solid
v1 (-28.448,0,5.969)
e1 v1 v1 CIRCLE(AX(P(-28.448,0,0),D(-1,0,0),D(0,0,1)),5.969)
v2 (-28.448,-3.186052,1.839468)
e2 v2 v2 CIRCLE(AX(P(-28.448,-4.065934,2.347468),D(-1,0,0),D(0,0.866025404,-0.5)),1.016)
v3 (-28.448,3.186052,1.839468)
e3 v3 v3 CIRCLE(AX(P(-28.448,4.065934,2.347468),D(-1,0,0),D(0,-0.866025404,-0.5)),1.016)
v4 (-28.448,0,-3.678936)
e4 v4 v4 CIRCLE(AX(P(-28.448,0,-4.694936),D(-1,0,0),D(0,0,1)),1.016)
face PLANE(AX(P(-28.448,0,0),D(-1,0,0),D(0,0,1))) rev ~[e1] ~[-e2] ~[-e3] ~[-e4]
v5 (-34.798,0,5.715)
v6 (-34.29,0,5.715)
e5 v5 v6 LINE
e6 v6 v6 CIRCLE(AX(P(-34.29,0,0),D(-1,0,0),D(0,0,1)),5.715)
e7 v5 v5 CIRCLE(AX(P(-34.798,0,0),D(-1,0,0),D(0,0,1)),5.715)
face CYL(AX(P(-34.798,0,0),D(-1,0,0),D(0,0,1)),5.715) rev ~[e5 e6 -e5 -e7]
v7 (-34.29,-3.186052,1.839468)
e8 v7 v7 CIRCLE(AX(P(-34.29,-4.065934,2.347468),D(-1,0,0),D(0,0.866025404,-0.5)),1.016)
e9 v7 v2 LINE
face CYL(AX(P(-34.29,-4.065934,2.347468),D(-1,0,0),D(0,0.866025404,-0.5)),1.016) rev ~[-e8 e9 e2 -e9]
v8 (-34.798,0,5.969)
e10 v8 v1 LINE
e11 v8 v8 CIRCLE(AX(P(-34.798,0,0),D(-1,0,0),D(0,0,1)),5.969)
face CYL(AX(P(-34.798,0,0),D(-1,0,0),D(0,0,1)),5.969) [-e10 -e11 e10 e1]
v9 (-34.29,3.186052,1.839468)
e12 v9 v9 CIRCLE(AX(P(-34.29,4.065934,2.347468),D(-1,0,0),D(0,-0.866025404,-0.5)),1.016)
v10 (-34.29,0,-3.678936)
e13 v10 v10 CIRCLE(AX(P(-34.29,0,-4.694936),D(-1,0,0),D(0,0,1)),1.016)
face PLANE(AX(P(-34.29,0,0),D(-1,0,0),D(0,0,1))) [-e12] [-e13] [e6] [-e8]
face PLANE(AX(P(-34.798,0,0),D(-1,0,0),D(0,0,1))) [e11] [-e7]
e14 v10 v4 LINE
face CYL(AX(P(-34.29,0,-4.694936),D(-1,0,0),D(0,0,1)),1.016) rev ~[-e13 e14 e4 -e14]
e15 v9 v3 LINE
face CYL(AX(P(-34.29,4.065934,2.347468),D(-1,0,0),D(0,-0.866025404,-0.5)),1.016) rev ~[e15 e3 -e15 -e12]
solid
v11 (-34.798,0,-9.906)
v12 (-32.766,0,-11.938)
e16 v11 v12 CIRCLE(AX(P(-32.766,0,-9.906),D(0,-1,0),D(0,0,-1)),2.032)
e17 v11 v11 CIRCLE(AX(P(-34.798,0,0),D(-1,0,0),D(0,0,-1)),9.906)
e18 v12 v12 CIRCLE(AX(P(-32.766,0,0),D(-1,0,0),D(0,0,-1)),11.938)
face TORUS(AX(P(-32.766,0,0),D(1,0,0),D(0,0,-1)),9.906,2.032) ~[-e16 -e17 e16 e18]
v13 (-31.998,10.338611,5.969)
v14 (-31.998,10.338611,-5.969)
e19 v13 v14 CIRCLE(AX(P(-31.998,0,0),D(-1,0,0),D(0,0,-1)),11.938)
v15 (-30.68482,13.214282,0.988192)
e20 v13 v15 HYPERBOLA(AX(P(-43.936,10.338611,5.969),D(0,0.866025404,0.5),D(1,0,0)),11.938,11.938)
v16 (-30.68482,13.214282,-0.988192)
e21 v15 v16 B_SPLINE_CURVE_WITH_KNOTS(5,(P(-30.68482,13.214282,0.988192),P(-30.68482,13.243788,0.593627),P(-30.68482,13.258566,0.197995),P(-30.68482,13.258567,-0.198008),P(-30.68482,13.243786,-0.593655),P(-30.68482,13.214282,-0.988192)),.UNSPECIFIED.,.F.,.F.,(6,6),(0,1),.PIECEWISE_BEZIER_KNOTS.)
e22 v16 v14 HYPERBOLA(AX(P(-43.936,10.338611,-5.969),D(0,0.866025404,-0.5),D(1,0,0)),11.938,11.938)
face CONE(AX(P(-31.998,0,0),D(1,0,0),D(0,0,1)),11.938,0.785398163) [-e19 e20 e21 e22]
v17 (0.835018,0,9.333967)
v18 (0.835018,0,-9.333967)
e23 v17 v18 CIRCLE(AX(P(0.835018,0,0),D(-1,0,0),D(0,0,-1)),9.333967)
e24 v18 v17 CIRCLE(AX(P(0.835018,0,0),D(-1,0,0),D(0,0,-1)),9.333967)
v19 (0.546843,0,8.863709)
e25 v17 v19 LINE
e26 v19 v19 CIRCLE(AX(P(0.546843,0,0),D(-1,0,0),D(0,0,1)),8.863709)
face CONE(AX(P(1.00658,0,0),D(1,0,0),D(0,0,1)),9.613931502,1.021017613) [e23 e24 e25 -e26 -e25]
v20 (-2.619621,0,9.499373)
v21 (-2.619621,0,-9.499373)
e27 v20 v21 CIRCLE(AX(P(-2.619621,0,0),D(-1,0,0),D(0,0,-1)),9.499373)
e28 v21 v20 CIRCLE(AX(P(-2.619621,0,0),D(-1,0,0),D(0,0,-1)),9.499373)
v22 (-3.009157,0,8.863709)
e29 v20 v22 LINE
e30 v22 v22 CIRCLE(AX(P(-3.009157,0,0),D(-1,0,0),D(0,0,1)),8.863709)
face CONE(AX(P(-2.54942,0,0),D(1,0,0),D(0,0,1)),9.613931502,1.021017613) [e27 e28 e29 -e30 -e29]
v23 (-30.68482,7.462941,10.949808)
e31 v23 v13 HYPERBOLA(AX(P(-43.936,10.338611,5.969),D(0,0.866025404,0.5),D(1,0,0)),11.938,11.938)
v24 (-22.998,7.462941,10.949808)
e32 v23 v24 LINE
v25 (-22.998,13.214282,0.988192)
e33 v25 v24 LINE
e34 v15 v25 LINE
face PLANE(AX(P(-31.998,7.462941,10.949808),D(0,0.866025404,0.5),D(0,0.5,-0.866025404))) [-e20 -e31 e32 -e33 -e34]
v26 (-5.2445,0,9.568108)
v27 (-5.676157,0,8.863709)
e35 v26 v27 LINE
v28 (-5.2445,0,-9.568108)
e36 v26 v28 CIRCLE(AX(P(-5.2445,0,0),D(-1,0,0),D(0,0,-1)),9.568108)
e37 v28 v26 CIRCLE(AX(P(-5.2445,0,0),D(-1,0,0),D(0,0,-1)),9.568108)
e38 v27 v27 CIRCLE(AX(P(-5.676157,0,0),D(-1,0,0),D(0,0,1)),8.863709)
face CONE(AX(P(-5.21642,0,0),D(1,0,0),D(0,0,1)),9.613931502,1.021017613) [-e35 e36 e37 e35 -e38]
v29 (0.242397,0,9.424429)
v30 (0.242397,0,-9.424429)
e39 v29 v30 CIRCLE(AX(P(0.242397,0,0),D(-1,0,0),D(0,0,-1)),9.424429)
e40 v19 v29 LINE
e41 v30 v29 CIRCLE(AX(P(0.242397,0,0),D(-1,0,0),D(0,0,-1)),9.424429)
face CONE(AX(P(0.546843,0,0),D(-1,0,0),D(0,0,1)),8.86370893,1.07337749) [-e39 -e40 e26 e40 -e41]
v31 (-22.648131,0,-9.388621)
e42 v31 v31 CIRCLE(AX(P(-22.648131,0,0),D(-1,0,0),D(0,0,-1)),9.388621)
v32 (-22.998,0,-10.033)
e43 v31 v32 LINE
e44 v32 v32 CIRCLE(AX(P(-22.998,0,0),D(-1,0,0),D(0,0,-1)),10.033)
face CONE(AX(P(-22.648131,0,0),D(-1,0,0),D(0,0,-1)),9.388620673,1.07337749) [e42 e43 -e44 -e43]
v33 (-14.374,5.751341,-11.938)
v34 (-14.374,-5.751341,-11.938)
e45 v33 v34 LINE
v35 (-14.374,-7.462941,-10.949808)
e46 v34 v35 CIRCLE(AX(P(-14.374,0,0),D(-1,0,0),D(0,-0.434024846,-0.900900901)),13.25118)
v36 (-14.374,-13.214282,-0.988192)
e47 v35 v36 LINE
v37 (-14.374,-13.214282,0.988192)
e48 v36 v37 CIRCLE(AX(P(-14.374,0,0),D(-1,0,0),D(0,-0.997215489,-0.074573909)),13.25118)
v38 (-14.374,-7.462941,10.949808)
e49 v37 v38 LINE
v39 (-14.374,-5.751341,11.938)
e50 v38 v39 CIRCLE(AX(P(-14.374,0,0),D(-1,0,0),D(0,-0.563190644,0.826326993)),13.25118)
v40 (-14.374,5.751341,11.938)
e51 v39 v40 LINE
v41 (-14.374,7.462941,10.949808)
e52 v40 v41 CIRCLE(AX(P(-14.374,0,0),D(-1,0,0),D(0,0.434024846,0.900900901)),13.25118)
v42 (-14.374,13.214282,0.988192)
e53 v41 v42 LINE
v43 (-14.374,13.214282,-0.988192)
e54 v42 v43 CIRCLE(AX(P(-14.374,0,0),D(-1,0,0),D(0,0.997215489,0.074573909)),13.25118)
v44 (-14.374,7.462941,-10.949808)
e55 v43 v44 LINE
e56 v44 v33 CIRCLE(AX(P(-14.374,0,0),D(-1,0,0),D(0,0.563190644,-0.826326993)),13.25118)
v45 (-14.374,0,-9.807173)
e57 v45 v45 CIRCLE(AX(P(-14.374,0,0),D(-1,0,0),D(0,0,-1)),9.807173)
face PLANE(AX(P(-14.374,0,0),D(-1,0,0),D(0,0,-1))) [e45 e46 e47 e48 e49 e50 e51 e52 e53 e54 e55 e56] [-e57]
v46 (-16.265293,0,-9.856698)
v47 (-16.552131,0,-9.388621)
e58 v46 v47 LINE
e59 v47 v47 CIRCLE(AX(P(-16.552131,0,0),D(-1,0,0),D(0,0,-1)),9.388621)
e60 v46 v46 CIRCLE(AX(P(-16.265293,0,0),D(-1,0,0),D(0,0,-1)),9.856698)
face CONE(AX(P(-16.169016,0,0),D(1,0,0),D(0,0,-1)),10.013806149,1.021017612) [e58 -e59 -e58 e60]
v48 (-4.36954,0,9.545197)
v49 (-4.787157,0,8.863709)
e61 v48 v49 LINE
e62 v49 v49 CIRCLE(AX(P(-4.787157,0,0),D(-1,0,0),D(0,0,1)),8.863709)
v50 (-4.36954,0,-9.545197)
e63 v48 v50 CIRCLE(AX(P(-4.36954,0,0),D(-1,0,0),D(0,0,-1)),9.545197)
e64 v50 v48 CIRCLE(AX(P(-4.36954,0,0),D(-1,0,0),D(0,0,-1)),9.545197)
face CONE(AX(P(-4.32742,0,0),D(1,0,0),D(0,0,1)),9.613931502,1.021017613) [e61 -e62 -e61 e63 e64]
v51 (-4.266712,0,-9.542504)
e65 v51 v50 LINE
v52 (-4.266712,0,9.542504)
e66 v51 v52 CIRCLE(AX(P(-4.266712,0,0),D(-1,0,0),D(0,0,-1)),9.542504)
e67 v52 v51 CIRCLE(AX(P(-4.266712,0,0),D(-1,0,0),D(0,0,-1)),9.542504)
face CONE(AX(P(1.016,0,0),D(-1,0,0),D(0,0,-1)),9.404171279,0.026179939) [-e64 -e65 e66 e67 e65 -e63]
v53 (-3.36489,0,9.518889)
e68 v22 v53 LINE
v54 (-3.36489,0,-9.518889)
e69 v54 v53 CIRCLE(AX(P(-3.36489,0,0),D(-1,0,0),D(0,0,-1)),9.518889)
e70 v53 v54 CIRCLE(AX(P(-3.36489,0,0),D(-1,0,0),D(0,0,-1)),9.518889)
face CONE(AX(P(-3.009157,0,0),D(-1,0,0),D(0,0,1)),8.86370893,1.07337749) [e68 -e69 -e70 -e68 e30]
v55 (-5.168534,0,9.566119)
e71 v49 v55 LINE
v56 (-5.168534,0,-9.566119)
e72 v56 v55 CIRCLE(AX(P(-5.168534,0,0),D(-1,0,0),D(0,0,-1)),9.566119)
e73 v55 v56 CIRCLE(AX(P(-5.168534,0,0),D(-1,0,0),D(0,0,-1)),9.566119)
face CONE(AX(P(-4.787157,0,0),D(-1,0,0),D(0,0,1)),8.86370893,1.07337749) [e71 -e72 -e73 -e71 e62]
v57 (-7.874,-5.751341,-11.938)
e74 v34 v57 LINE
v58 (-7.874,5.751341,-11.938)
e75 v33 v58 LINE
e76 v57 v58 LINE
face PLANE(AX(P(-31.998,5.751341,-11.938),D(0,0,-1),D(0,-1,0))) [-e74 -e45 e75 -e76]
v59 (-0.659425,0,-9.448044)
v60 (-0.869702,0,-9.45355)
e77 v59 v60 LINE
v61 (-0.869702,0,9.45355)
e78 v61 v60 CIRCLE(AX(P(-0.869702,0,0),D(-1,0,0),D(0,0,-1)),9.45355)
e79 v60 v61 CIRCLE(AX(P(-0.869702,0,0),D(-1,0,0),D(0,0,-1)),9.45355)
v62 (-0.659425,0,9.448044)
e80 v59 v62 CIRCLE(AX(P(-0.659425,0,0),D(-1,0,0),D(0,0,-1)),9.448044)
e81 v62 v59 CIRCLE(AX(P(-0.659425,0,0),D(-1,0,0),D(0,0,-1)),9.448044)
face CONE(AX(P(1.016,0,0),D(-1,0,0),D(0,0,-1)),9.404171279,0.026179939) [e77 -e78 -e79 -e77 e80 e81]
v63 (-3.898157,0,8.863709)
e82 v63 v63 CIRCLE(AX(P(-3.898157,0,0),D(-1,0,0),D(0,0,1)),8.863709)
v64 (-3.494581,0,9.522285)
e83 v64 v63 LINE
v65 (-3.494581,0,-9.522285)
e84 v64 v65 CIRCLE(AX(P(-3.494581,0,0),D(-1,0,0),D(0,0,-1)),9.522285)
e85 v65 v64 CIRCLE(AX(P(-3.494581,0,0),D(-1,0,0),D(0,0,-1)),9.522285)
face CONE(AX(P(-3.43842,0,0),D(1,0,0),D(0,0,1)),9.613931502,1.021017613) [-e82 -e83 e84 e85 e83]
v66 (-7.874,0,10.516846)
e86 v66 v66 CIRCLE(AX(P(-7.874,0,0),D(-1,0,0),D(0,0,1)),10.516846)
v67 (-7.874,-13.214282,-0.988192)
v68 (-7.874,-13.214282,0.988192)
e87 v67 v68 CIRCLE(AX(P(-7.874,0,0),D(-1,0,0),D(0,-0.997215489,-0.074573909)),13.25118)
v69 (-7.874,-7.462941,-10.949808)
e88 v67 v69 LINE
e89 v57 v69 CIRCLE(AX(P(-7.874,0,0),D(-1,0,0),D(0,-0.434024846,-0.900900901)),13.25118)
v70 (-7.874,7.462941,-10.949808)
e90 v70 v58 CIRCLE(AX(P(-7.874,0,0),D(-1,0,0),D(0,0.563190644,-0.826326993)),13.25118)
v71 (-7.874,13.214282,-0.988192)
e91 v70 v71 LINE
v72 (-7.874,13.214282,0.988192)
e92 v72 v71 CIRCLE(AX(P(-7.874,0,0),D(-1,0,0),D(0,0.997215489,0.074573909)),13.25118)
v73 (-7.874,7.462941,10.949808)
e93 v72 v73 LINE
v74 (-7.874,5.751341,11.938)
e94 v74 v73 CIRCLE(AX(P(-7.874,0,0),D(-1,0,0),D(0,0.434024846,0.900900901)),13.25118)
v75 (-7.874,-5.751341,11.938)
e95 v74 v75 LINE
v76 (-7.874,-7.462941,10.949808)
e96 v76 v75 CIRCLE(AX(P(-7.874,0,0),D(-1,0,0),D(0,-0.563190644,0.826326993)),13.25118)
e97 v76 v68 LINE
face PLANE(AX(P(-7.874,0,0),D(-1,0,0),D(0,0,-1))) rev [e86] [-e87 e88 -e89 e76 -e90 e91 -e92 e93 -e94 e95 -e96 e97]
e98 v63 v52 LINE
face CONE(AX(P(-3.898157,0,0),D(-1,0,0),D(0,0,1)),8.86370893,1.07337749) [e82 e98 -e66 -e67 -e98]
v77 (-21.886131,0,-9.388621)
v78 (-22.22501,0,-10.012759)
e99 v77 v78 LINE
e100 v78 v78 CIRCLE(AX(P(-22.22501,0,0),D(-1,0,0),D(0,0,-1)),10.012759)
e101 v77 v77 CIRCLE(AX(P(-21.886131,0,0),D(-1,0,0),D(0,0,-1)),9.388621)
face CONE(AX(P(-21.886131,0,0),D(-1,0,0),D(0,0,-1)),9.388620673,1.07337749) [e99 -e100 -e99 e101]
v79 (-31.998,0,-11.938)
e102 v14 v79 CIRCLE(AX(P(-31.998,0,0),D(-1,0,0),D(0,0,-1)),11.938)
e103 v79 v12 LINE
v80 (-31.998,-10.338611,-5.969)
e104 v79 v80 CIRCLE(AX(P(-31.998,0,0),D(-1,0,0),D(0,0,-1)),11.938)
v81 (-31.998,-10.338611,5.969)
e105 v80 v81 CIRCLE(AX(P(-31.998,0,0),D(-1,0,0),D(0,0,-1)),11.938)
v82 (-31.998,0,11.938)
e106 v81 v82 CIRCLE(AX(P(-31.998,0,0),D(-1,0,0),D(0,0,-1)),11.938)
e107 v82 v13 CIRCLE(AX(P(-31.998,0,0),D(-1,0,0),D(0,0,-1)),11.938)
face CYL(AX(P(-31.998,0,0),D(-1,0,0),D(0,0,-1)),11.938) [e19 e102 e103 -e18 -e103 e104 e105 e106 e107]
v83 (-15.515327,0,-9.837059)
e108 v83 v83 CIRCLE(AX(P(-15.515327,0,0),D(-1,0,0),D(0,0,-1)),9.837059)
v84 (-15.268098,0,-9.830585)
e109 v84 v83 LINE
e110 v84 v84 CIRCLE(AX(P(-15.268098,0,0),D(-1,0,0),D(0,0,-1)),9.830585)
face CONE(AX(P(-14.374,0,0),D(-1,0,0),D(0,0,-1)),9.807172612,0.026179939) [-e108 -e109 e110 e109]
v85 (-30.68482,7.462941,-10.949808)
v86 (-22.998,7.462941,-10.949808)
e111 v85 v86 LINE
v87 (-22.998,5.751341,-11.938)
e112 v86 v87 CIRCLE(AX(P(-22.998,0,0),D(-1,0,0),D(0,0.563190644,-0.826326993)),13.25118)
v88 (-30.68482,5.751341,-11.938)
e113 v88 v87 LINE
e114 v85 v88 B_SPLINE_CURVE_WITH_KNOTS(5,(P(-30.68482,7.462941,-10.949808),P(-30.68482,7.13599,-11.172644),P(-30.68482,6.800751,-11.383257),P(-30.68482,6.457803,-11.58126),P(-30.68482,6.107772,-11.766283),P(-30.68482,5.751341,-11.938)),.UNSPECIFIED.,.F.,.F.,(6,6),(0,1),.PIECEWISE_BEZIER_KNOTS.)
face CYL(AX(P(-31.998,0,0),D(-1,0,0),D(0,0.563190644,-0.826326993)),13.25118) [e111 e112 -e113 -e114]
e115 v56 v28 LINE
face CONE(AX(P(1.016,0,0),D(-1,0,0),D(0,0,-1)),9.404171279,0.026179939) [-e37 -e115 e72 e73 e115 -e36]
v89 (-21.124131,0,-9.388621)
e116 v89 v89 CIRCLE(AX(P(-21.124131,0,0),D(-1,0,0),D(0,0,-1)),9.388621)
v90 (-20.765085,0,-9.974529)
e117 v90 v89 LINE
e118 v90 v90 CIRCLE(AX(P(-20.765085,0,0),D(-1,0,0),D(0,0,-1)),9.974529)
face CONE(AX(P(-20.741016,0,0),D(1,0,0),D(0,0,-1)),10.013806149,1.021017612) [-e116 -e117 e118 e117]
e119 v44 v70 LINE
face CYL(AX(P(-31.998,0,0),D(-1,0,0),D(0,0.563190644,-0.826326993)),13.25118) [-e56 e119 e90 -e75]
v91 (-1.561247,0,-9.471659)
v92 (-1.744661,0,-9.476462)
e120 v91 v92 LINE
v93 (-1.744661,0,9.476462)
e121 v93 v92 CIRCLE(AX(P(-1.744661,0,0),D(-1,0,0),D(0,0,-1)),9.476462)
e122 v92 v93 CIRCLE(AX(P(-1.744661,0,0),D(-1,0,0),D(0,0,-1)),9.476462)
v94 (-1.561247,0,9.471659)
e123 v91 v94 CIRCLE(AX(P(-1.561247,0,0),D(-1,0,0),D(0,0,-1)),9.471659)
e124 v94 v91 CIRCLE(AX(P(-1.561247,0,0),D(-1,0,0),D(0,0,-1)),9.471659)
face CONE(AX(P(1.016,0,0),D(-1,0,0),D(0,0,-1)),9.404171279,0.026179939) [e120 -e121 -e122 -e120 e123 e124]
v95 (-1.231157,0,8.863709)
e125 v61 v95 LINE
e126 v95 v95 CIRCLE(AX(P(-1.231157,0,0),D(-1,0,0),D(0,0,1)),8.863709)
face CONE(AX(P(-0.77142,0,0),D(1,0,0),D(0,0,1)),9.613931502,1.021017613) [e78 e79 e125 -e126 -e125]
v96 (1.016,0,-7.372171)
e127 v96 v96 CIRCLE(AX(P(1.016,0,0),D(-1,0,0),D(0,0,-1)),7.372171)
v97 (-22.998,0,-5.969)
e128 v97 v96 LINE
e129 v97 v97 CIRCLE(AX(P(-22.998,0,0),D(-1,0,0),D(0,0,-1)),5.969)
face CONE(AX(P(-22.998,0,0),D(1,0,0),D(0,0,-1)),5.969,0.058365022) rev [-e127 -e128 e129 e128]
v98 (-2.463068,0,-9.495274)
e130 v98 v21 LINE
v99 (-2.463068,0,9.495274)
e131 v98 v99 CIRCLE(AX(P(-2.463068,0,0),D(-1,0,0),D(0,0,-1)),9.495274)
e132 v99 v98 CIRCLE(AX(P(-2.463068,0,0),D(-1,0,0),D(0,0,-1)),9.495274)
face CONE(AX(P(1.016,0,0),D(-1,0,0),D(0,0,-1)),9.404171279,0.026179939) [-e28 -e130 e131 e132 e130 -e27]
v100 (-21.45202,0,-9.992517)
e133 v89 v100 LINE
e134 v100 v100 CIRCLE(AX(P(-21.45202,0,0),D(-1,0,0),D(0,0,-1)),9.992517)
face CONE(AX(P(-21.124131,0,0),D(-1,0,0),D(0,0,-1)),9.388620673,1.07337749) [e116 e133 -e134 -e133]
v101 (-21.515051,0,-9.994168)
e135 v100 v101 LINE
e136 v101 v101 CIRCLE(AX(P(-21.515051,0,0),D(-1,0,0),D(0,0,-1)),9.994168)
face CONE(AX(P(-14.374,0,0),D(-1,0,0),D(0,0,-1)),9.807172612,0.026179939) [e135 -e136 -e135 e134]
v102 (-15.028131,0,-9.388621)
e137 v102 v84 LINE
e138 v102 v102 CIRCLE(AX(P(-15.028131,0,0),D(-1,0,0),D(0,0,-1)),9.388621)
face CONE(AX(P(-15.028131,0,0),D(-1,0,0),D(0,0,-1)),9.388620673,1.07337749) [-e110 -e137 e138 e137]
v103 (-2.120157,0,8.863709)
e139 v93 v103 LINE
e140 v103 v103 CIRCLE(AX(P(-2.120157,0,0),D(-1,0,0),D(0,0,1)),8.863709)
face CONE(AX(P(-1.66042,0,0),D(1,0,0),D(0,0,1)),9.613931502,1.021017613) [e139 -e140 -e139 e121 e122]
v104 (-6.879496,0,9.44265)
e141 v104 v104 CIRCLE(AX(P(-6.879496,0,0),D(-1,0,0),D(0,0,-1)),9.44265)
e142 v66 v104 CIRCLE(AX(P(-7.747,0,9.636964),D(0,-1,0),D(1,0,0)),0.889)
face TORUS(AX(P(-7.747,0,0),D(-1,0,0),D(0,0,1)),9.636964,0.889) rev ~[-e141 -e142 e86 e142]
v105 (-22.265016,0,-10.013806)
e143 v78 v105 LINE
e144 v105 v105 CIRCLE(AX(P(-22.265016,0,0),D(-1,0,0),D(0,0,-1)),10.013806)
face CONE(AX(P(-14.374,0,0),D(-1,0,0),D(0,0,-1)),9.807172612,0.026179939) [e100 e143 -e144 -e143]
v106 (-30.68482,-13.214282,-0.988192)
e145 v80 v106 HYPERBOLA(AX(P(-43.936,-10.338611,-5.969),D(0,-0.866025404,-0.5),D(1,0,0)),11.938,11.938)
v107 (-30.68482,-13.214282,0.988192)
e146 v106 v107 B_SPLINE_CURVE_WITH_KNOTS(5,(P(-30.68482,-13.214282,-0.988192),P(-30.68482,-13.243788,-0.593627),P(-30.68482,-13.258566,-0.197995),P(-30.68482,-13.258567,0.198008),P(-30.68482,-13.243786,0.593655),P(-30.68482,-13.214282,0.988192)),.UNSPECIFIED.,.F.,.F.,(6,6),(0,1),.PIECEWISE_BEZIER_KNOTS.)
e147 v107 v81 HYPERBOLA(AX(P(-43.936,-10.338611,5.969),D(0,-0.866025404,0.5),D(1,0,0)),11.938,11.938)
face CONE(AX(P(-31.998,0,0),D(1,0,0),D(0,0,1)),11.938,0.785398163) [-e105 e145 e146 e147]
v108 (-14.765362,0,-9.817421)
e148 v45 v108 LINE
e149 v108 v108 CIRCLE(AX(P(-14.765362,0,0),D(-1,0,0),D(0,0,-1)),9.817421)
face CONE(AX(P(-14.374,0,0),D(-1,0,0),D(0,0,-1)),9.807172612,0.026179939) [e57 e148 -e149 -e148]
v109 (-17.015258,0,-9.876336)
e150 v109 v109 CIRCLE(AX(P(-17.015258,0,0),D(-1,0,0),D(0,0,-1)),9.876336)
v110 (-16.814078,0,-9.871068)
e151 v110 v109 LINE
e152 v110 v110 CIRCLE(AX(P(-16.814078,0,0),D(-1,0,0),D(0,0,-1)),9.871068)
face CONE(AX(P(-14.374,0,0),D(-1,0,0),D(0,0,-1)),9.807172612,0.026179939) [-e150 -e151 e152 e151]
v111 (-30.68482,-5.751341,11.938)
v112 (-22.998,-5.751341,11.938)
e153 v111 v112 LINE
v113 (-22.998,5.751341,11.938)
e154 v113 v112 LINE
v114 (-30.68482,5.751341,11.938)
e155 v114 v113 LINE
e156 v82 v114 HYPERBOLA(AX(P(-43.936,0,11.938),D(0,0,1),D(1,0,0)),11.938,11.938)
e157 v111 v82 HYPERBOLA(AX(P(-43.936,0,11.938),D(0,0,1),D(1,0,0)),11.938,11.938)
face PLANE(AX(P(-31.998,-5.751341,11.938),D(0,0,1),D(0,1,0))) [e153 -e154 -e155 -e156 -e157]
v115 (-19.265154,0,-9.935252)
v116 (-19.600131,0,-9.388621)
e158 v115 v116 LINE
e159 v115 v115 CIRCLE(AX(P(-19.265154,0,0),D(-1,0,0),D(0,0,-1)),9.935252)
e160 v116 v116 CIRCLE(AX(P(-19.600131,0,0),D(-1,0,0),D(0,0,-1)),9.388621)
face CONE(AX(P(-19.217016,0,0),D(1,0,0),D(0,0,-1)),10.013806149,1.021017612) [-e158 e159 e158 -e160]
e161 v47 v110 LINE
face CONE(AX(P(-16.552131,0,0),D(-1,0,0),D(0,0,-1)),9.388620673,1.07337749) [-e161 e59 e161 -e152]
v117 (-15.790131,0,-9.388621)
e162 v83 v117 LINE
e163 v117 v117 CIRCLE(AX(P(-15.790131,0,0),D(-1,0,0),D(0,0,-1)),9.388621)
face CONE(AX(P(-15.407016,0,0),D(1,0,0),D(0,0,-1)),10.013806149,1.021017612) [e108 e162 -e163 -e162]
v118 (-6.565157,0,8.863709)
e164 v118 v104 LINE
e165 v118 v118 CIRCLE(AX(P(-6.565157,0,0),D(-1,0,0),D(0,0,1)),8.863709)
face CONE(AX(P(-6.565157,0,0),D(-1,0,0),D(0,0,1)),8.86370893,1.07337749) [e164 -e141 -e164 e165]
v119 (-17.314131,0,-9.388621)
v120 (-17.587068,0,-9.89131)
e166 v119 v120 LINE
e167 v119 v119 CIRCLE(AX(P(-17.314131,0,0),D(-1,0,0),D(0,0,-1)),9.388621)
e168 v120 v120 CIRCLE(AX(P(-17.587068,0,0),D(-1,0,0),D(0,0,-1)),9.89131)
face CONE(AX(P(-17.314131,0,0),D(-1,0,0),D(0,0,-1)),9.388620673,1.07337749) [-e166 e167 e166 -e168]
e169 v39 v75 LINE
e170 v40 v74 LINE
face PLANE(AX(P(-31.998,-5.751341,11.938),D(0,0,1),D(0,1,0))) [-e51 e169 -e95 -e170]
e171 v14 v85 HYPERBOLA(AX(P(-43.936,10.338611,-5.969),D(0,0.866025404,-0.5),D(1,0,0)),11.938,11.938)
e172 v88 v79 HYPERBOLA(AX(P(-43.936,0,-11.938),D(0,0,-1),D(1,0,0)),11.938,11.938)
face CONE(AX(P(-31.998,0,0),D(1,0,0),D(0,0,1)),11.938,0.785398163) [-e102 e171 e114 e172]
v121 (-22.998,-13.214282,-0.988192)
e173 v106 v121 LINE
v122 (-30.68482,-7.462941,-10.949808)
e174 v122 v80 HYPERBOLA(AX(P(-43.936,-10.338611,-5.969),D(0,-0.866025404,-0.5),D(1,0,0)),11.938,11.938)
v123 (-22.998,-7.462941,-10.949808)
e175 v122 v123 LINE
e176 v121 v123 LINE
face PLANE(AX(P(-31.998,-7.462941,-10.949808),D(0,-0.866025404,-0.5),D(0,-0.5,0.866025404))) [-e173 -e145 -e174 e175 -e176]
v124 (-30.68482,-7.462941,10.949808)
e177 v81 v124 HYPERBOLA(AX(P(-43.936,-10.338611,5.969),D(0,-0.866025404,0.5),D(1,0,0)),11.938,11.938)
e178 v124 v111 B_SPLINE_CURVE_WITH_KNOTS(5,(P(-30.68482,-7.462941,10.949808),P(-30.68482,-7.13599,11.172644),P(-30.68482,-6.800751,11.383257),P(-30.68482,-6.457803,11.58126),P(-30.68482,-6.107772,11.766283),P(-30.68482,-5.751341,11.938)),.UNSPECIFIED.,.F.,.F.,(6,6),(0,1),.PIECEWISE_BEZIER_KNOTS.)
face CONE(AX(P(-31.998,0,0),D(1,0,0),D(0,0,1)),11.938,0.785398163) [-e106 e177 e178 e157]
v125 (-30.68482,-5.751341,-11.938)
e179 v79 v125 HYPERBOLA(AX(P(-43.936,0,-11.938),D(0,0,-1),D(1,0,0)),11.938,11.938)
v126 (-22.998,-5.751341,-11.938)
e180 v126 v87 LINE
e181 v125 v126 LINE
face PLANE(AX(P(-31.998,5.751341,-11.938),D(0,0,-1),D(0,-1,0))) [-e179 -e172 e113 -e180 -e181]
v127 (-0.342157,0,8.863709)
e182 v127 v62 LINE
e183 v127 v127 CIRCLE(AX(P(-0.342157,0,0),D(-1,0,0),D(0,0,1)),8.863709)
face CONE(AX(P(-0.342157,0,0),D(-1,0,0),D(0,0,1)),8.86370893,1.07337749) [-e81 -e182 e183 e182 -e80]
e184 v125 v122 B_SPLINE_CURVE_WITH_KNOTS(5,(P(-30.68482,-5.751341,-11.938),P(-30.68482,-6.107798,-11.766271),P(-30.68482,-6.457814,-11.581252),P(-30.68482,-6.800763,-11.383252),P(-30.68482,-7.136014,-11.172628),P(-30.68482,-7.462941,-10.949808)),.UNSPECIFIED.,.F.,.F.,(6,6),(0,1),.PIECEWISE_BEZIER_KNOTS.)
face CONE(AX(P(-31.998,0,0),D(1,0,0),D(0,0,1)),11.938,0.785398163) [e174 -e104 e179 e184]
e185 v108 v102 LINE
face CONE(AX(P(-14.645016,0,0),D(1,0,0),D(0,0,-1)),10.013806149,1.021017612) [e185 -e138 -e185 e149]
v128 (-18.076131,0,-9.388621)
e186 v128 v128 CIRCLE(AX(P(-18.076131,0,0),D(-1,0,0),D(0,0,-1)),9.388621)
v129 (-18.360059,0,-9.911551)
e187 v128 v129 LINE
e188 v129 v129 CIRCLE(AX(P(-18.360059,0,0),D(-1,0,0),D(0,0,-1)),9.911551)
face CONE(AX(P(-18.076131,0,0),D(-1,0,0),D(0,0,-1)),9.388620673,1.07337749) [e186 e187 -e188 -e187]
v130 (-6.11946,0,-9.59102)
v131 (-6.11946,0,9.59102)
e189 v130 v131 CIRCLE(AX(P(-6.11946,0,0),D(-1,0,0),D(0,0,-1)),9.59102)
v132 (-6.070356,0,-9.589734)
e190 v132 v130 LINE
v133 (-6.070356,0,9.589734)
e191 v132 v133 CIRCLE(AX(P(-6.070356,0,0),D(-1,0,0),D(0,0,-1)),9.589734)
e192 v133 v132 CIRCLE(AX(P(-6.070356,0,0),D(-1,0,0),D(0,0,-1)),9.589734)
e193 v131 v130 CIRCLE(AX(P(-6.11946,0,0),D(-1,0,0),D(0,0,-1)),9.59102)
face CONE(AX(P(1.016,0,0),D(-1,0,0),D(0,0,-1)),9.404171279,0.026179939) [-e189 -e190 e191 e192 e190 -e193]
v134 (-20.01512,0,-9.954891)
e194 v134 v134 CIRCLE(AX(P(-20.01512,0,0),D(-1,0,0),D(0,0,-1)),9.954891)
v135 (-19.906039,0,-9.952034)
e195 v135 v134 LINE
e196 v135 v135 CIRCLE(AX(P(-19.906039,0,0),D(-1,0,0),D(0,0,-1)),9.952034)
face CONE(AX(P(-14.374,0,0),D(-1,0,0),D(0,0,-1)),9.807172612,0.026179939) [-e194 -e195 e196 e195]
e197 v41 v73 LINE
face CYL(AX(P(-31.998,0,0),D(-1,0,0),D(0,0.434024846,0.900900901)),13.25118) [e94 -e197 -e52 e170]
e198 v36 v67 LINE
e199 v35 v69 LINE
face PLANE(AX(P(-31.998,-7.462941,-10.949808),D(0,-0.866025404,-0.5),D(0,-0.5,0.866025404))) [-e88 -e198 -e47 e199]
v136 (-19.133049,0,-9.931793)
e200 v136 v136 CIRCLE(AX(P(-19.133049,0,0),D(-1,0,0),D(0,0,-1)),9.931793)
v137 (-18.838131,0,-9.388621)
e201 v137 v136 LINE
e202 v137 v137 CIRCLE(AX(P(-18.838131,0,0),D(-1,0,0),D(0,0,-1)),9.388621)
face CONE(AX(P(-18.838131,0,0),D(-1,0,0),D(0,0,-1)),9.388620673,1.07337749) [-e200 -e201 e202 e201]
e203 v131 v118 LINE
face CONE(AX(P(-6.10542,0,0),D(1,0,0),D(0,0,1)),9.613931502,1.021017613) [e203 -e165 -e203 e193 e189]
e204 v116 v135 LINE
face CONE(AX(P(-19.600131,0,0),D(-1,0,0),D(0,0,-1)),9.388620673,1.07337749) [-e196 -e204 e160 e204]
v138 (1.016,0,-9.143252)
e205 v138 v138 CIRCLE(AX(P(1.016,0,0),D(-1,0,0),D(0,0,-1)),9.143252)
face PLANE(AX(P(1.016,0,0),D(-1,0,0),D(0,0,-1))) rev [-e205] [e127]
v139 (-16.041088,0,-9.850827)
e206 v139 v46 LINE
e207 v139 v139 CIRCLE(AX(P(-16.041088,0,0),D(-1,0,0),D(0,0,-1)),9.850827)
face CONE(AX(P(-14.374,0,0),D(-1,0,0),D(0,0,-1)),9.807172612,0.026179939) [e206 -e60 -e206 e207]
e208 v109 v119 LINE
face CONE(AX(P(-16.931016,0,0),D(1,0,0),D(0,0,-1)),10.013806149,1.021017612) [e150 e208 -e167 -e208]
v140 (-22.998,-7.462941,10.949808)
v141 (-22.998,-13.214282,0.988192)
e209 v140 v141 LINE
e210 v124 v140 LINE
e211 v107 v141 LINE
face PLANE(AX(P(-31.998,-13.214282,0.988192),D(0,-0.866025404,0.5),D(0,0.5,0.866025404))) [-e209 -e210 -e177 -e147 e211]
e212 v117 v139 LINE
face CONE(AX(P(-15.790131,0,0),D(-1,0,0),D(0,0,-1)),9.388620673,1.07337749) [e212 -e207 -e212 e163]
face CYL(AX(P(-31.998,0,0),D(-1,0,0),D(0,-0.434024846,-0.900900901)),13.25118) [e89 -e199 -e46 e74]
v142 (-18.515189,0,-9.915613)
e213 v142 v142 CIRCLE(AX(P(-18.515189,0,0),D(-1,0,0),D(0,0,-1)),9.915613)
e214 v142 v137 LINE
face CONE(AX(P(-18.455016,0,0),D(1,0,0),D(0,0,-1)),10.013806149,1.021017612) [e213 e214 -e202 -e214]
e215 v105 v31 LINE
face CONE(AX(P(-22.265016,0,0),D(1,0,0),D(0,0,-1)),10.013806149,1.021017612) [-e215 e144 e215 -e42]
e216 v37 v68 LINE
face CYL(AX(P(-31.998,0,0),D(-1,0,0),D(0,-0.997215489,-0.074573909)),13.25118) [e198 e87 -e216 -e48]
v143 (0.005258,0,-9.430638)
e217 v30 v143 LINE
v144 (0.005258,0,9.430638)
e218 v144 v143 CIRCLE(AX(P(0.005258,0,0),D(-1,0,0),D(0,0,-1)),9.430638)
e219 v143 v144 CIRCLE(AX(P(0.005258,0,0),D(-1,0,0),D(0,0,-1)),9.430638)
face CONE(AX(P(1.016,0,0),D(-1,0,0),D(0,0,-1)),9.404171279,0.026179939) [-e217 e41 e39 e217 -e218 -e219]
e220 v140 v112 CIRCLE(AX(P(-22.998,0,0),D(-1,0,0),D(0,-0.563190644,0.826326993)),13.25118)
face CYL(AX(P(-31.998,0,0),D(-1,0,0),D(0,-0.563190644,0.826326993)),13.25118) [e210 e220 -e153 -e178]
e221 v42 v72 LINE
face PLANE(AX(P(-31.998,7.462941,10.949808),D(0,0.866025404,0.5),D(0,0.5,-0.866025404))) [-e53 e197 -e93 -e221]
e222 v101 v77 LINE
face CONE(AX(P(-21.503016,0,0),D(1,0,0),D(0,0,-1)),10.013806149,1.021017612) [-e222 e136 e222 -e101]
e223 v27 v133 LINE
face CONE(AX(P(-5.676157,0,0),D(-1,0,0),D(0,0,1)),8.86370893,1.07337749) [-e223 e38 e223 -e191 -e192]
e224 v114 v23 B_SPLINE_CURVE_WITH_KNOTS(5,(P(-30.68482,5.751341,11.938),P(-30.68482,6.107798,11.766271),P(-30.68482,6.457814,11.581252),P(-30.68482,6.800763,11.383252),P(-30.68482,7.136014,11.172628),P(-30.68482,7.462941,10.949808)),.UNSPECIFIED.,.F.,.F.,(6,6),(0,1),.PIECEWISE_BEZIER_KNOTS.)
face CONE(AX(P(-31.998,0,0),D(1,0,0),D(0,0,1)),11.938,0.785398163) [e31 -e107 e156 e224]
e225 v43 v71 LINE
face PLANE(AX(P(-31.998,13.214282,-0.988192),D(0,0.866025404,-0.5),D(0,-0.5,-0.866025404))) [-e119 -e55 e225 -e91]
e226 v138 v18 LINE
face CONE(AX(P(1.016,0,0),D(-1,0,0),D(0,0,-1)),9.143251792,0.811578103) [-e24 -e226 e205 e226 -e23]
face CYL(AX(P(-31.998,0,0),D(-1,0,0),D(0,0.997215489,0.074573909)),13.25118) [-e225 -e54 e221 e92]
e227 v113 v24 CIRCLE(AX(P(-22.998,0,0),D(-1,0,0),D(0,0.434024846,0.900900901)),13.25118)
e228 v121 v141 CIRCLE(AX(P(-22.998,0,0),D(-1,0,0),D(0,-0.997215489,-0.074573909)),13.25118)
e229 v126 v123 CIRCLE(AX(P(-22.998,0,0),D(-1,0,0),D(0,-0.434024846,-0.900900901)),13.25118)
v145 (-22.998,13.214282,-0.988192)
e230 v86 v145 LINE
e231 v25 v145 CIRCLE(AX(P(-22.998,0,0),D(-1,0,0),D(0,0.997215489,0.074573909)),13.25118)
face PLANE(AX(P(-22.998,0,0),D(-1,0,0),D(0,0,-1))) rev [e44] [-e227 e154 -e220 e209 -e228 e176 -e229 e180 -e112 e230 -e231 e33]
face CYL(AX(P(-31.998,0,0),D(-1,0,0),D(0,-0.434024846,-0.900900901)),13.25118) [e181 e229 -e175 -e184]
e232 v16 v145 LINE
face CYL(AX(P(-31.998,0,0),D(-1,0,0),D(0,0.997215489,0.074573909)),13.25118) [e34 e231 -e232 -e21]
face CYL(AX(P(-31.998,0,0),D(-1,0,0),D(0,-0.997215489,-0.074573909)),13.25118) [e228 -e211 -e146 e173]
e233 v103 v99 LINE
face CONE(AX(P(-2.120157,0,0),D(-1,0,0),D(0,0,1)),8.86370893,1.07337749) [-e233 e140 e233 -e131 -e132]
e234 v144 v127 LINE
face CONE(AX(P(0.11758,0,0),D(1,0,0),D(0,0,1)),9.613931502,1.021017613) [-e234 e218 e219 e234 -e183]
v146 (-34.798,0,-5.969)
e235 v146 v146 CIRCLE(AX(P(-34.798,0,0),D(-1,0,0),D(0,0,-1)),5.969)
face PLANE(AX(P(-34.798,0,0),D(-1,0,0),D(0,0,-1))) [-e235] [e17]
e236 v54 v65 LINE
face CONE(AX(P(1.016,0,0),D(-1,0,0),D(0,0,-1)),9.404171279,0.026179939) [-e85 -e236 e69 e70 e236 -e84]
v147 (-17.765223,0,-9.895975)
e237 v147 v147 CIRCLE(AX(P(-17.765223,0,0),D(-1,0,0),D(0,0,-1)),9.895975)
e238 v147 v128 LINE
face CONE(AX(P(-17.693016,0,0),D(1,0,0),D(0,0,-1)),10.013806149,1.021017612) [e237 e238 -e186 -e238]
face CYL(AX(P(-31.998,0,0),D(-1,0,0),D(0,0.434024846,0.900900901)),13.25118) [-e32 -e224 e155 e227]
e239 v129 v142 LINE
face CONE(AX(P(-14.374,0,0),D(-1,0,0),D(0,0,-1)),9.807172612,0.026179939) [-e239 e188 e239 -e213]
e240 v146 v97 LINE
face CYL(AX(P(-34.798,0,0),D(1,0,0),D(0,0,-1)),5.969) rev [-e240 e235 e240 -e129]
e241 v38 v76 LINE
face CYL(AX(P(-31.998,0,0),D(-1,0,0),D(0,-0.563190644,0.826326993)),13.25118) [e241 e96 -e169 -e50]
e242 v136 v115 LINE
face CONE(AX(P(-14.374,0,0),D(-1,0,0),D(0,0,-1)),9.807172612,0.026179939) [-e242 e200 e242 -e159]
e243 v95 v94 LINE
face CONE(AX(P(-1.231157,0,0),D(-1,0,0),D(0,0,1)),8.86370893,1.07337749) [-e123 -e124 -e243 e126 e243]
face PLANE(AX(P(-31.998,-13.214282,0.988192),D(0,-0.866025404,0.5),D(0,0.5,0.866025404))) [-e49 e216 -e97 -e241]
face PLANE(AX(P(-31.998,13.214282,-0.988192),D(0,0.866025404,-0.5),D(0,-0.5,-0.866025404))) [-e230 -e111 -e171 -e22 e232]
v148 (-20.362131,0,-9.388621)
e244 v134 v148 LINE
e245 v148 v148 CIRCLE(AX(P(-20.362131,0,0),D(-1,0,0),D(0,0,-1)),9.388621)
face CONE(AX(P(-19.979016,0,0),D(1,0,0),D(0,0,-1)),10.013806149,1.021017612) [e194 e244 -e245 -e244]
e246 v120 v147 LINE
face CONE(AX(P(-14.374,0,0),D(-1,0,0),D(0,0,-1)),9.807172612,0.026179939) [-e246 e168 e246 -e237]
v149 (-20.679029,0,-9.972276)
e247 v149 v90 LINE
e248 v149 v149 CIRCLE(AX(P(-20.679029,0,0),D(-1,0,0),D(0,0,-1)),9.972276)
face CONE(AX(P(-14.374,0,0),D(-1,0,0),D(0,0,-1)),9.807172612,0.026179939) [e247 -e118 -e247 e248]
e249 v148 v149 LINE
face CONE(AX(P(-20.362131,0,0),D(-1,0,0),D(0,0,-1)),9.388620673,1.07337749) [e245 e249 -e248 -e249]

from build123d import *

# Parameters (mm, degrees)
SKETCH12_OUTSIDE_W = 65.04
SKETCH12_OUTSIDE_H = 65.04
CUT_EXTRUDE2_DEPTH = 34.014
FILLET4_R          = 2.032
SKETCH19_OUTSIDE_W = 39.986
SKETCH19_OUTSIDE_H = 42.612
SKETCH19_OUTSIDE_R = 11.938
CUT_EXTRUDE3_DEPTH = 1.999996
CUT_EXTRUDE3_DRAFT = -45
CHAMFER1_SIZE      = 0.260919487
CHAMFER1_SIZE2     = 0.254
SKETCH21_R         = 5.969
PLUG_DEPTH         = 6.35
SKETCH22_R         = 5.715
CUT_EXTRUDE4_DEPTH = 0.508
SKETCH27_R         = 1.016
PLUGHOLES_DEPTH    = 36.306
CIRPATTERN1_COUNT  = 3
LPATTERN1_COUNT    = 11
LPATTERN1_PITCH    = 0.762
LPATTERN2_COUNT    = 10
LPATTERN2_PITCH    = 0.889
SKETCH32_R         = 0.889


with BuildPart() as part:
    # Sketch10 → Revolve2 (revolve)
    with BuildSketch(Plane.XY, mode=Mode.PRIVATE) as revolve2_sk:
        Polygon((-34.798, 5.969), (-22.998, 5.969), (1.016, 7.372171279), (1.016, 9.404171279), (-7.874, 9.636964122), (-7.874, 23.876), (-14.374, 23.876), (-14.374, 9.807172612), (-22.998, 10.033), (-22.998, 23.876), (-31.998, 23.876), (-31.998, 11.938), (-34.798, 11.938), align=None)
    revolve(revolve2_sk.sketch.rotate(Axis((0, 0, 0), (-1, 0, 0)), 90), axis=Axis((0, 0, 0), (-1, 0, 0)))  # turned: the seam where the file's is

    # Sketch12 outside → Cut-Extrude2 (cut, through all)
    with BuildSketch(Plane.ZY.offset(31.998)):
        Rectangle(SKETCH12_OUTSIDE_W, SKETCH12_OUTSIDE_H)
        with BuildLine():
            Line((-0.98819228, 13.214281948), (-10.94980772, 7.462940592))
            ThreePointArc((-10.94980772, 7.462940592), (-11.47585851, 6.62559), (-11.938, 5.751341356))
            Line((-11.938, 5.751341356), (-11.938, -5.751341356))
            ThreePointArc((-11.938, -5.751341356), (-11.47585851, -6.62559), (-10.94980772, -7.462940592))
            Line((-10.94980772, -7.462940592), (-0.98819228, -13.214281948))
            ThreePointArc((-0.98819228, -13.214281948), (0, -13.25118), (0.98819228, -13.214281948))
            Line((0.98819228, -13.214281948), (10.94980772, -7.462940592))
            ThreePointArc((10.94980772, -7.462940592), (11.47585851, -6.62559), (11.938, -5.751341356))
            Line((11.938, -5.751341356), (11.938, 5.751341356))
            ThreePointArc((11.938, 5.751341356), (11.47585851, 6.62559), (10.94980772, 7.462940592))
            Line((10.94980772, 7.462940592), (0.98819228, 13.214281948))
            ThreePointArc((0.98819228, 13.214281948), (0, 13.25118), (-0.98819228, 13.214281948))
        make_face(mode=Mode.SUBTRACT)
    extrude(amount=-CUT_EXTRUDE2_DEPTH, mode=Mode.SUBTRACT)

    # Fillet4
    fillet4_edges = [part.edges().sort_by_distance(p)[0] for p in [
        (-34.798, 0, 11.938),
    ]]
    fillet(fillet4_edges, radius=FILLET4_R)


with BuildPart() as cut_extrude3_tool:
    # Sketch19 outside → Cut-Extrude3 (with draft: the straight prism first)
    with BuildSketch(Plane.ZY.offset(31.998)):
        Rectangle(SKETCH19_OUTSIDE_W, SKETCH19_OUTSIDE_H)
        Circle(SKETCH19_OUTSIDE_R, mode=Mode.SUBTRACT)
    extrude(amount=-CUT_EXTRUDE3_DEPTH)
    # Cut-Extrude3: the draft: its side faces are tilted about the plane it starts from
    cut_extrude3_sides = [cut_extrude3_tool.faces().sort_by_distance(p)[0] for p in [
        (-30.998002, -21.306, 0),
        (-30.998002, 0, 19.993),
        (-30.998002, 21.306, 0),
        (-30.998002, 0, -19.993),
        (-30.998002, 0, -11.938),
    ]]
    draft(cut_extrude3_sides, Plane.ZY.offset(31.998), CUT_EXTRUDE3_DRAFT)


with BuildPart() as part_1:
    add(part.part)

    # Cut-Extrude3: cut by cut_extrude3_tool
    add(cut_extrude3_tool.part, mode=Mode.SUBTRACT)

    # Chamfer1
    chamfer1_edges = [part_1.edges().sort_by_distance(p)[0] for p in [
        (1.016, 0, 9.404171279),
    ]]
    chamfer1_side = [part_1.faces().sort_by_distance(p)[0] for p in [
        (1.016, 0, 7.638161411),
    ]]
    chamfer(chamfer1_edges, length=CHAMFER1_SIZE, length2=CHAMFER1_SIZE2, reference=chamfer1_side[0])

    # Sketch29 → Cut-Revolve1 (revolve, cut)
    with BuildSketch(Plane.XY, mode=Mode.PRIVATE) as cut_revolve1_sk:
        Polygon((-22.998, 10.033), (-22.265016419, 10.013806149), (-22.648130572, 9.388620673), align=None)
    cut_revolve1 = revolve(cut_revolve1_sk.sketch.rotate(Axis((0, 0, 0), (-1, 0, 0)), 90), axis=Axis((0, 0, 0), (-1, 0, 0)), mode=Mode.SUBTRACT)  # turned: the seam where the file's is

    # LPattern1: Cut-Revolve1 ×11
    with Locations(*[(i * LPATTERN1_PITCH, 0, 0) for i in range(1, LPATTERN1_COUNT)]):
        add(cut_revolve1, mode=Mode.SUBTRACT)

    # Sketch30 → Cut-Revolve2 (revolve, cut)
    with BuildSketch(Plane.XY, mode=Mode.PRIVATE) as cut_revolve2_sk:
        Polygon((-7.874, 9.636964122), (-6.994419703, 9.613931502), (-7.454156686, 8.86370893), align=None)
    cut_revolve2 = revolve(cut_revolve2_sk.sketch.rotate(Axis((0, 0, 0), (-1, 0, 0)), 270), axis=Axis((0, 0, 0), (-1, 0, 0)), mode=Mode.SUBTRACT)  # turned: the seam where the file's is

    # LPattern2: Cut-Revolve2 ×10
    with Locations(*[(i * LPATTERN2_PITCH, 0, 0) for i in range(1, LPATTERN2_COUNT)]):
        add(cut_revolve2, mode=Mode.SUBTRACT)

    # Sketch32 → Cut-Revolve3 (revolve, cut)
    with BuildSketch(Plane.XY, mode=Mode.PRIVATE) as cut_revolve3_sk:
        with Locations((-7.747, 9.636964122)):
            Circle(SKETCH32_R)
    revolve(cut_revolve3_sk.sketch.rotate(Axis((0, 0, 0), (-1, 0, 0)), 270), axis=Axis((0, 0, 0), (-1, 0, 0)), mode=Mode.SUBTRACT)  # turned: the seam where the file's is


with BuildPart() as body_2:
    # Sketch21 → plug (new body)
    with BuildSketch(Plane.ZY.offset(34.798)):
        Circle(SKETCH21_R)
    extrude(amount=-PLUG_DEPTH)

    # Sketch22 → Cut-Extrude4 (cut)
    with BuildSketch(Plane.ZY.offset(34.798)):
        Circle(SKETCH22_R)
    extrude(amount=-CUT_EXTRUDE4_DEPTH, mode=Mode.SUBTRACT)

    # Sketch27 → plugholes (cut, through all)
    with BuildSketch(Plane.ZY.offset(34.29)):
        with Locations((-4.694936, 0)):
            Circle(SKETCH27_R)
    plugholes = extrude(amount=-PLUGHOLES_DEPTH, mode=Mode.SUBTRACT)

    # CirPattern1: plugholes ×3 about axis
    cirpattern1_axis = Axis((0, 0, 0), (1, 0, 0))
    for i in range(1, CIRPATTERN1_COUNT):
        add(plugholes.rotate(cirpattern1_axis, i * 360 / CIRPATTERN1_COUNT), mode=Mode.SUBTRACT)


solid = Compound([part_1.part, body_2.part])
